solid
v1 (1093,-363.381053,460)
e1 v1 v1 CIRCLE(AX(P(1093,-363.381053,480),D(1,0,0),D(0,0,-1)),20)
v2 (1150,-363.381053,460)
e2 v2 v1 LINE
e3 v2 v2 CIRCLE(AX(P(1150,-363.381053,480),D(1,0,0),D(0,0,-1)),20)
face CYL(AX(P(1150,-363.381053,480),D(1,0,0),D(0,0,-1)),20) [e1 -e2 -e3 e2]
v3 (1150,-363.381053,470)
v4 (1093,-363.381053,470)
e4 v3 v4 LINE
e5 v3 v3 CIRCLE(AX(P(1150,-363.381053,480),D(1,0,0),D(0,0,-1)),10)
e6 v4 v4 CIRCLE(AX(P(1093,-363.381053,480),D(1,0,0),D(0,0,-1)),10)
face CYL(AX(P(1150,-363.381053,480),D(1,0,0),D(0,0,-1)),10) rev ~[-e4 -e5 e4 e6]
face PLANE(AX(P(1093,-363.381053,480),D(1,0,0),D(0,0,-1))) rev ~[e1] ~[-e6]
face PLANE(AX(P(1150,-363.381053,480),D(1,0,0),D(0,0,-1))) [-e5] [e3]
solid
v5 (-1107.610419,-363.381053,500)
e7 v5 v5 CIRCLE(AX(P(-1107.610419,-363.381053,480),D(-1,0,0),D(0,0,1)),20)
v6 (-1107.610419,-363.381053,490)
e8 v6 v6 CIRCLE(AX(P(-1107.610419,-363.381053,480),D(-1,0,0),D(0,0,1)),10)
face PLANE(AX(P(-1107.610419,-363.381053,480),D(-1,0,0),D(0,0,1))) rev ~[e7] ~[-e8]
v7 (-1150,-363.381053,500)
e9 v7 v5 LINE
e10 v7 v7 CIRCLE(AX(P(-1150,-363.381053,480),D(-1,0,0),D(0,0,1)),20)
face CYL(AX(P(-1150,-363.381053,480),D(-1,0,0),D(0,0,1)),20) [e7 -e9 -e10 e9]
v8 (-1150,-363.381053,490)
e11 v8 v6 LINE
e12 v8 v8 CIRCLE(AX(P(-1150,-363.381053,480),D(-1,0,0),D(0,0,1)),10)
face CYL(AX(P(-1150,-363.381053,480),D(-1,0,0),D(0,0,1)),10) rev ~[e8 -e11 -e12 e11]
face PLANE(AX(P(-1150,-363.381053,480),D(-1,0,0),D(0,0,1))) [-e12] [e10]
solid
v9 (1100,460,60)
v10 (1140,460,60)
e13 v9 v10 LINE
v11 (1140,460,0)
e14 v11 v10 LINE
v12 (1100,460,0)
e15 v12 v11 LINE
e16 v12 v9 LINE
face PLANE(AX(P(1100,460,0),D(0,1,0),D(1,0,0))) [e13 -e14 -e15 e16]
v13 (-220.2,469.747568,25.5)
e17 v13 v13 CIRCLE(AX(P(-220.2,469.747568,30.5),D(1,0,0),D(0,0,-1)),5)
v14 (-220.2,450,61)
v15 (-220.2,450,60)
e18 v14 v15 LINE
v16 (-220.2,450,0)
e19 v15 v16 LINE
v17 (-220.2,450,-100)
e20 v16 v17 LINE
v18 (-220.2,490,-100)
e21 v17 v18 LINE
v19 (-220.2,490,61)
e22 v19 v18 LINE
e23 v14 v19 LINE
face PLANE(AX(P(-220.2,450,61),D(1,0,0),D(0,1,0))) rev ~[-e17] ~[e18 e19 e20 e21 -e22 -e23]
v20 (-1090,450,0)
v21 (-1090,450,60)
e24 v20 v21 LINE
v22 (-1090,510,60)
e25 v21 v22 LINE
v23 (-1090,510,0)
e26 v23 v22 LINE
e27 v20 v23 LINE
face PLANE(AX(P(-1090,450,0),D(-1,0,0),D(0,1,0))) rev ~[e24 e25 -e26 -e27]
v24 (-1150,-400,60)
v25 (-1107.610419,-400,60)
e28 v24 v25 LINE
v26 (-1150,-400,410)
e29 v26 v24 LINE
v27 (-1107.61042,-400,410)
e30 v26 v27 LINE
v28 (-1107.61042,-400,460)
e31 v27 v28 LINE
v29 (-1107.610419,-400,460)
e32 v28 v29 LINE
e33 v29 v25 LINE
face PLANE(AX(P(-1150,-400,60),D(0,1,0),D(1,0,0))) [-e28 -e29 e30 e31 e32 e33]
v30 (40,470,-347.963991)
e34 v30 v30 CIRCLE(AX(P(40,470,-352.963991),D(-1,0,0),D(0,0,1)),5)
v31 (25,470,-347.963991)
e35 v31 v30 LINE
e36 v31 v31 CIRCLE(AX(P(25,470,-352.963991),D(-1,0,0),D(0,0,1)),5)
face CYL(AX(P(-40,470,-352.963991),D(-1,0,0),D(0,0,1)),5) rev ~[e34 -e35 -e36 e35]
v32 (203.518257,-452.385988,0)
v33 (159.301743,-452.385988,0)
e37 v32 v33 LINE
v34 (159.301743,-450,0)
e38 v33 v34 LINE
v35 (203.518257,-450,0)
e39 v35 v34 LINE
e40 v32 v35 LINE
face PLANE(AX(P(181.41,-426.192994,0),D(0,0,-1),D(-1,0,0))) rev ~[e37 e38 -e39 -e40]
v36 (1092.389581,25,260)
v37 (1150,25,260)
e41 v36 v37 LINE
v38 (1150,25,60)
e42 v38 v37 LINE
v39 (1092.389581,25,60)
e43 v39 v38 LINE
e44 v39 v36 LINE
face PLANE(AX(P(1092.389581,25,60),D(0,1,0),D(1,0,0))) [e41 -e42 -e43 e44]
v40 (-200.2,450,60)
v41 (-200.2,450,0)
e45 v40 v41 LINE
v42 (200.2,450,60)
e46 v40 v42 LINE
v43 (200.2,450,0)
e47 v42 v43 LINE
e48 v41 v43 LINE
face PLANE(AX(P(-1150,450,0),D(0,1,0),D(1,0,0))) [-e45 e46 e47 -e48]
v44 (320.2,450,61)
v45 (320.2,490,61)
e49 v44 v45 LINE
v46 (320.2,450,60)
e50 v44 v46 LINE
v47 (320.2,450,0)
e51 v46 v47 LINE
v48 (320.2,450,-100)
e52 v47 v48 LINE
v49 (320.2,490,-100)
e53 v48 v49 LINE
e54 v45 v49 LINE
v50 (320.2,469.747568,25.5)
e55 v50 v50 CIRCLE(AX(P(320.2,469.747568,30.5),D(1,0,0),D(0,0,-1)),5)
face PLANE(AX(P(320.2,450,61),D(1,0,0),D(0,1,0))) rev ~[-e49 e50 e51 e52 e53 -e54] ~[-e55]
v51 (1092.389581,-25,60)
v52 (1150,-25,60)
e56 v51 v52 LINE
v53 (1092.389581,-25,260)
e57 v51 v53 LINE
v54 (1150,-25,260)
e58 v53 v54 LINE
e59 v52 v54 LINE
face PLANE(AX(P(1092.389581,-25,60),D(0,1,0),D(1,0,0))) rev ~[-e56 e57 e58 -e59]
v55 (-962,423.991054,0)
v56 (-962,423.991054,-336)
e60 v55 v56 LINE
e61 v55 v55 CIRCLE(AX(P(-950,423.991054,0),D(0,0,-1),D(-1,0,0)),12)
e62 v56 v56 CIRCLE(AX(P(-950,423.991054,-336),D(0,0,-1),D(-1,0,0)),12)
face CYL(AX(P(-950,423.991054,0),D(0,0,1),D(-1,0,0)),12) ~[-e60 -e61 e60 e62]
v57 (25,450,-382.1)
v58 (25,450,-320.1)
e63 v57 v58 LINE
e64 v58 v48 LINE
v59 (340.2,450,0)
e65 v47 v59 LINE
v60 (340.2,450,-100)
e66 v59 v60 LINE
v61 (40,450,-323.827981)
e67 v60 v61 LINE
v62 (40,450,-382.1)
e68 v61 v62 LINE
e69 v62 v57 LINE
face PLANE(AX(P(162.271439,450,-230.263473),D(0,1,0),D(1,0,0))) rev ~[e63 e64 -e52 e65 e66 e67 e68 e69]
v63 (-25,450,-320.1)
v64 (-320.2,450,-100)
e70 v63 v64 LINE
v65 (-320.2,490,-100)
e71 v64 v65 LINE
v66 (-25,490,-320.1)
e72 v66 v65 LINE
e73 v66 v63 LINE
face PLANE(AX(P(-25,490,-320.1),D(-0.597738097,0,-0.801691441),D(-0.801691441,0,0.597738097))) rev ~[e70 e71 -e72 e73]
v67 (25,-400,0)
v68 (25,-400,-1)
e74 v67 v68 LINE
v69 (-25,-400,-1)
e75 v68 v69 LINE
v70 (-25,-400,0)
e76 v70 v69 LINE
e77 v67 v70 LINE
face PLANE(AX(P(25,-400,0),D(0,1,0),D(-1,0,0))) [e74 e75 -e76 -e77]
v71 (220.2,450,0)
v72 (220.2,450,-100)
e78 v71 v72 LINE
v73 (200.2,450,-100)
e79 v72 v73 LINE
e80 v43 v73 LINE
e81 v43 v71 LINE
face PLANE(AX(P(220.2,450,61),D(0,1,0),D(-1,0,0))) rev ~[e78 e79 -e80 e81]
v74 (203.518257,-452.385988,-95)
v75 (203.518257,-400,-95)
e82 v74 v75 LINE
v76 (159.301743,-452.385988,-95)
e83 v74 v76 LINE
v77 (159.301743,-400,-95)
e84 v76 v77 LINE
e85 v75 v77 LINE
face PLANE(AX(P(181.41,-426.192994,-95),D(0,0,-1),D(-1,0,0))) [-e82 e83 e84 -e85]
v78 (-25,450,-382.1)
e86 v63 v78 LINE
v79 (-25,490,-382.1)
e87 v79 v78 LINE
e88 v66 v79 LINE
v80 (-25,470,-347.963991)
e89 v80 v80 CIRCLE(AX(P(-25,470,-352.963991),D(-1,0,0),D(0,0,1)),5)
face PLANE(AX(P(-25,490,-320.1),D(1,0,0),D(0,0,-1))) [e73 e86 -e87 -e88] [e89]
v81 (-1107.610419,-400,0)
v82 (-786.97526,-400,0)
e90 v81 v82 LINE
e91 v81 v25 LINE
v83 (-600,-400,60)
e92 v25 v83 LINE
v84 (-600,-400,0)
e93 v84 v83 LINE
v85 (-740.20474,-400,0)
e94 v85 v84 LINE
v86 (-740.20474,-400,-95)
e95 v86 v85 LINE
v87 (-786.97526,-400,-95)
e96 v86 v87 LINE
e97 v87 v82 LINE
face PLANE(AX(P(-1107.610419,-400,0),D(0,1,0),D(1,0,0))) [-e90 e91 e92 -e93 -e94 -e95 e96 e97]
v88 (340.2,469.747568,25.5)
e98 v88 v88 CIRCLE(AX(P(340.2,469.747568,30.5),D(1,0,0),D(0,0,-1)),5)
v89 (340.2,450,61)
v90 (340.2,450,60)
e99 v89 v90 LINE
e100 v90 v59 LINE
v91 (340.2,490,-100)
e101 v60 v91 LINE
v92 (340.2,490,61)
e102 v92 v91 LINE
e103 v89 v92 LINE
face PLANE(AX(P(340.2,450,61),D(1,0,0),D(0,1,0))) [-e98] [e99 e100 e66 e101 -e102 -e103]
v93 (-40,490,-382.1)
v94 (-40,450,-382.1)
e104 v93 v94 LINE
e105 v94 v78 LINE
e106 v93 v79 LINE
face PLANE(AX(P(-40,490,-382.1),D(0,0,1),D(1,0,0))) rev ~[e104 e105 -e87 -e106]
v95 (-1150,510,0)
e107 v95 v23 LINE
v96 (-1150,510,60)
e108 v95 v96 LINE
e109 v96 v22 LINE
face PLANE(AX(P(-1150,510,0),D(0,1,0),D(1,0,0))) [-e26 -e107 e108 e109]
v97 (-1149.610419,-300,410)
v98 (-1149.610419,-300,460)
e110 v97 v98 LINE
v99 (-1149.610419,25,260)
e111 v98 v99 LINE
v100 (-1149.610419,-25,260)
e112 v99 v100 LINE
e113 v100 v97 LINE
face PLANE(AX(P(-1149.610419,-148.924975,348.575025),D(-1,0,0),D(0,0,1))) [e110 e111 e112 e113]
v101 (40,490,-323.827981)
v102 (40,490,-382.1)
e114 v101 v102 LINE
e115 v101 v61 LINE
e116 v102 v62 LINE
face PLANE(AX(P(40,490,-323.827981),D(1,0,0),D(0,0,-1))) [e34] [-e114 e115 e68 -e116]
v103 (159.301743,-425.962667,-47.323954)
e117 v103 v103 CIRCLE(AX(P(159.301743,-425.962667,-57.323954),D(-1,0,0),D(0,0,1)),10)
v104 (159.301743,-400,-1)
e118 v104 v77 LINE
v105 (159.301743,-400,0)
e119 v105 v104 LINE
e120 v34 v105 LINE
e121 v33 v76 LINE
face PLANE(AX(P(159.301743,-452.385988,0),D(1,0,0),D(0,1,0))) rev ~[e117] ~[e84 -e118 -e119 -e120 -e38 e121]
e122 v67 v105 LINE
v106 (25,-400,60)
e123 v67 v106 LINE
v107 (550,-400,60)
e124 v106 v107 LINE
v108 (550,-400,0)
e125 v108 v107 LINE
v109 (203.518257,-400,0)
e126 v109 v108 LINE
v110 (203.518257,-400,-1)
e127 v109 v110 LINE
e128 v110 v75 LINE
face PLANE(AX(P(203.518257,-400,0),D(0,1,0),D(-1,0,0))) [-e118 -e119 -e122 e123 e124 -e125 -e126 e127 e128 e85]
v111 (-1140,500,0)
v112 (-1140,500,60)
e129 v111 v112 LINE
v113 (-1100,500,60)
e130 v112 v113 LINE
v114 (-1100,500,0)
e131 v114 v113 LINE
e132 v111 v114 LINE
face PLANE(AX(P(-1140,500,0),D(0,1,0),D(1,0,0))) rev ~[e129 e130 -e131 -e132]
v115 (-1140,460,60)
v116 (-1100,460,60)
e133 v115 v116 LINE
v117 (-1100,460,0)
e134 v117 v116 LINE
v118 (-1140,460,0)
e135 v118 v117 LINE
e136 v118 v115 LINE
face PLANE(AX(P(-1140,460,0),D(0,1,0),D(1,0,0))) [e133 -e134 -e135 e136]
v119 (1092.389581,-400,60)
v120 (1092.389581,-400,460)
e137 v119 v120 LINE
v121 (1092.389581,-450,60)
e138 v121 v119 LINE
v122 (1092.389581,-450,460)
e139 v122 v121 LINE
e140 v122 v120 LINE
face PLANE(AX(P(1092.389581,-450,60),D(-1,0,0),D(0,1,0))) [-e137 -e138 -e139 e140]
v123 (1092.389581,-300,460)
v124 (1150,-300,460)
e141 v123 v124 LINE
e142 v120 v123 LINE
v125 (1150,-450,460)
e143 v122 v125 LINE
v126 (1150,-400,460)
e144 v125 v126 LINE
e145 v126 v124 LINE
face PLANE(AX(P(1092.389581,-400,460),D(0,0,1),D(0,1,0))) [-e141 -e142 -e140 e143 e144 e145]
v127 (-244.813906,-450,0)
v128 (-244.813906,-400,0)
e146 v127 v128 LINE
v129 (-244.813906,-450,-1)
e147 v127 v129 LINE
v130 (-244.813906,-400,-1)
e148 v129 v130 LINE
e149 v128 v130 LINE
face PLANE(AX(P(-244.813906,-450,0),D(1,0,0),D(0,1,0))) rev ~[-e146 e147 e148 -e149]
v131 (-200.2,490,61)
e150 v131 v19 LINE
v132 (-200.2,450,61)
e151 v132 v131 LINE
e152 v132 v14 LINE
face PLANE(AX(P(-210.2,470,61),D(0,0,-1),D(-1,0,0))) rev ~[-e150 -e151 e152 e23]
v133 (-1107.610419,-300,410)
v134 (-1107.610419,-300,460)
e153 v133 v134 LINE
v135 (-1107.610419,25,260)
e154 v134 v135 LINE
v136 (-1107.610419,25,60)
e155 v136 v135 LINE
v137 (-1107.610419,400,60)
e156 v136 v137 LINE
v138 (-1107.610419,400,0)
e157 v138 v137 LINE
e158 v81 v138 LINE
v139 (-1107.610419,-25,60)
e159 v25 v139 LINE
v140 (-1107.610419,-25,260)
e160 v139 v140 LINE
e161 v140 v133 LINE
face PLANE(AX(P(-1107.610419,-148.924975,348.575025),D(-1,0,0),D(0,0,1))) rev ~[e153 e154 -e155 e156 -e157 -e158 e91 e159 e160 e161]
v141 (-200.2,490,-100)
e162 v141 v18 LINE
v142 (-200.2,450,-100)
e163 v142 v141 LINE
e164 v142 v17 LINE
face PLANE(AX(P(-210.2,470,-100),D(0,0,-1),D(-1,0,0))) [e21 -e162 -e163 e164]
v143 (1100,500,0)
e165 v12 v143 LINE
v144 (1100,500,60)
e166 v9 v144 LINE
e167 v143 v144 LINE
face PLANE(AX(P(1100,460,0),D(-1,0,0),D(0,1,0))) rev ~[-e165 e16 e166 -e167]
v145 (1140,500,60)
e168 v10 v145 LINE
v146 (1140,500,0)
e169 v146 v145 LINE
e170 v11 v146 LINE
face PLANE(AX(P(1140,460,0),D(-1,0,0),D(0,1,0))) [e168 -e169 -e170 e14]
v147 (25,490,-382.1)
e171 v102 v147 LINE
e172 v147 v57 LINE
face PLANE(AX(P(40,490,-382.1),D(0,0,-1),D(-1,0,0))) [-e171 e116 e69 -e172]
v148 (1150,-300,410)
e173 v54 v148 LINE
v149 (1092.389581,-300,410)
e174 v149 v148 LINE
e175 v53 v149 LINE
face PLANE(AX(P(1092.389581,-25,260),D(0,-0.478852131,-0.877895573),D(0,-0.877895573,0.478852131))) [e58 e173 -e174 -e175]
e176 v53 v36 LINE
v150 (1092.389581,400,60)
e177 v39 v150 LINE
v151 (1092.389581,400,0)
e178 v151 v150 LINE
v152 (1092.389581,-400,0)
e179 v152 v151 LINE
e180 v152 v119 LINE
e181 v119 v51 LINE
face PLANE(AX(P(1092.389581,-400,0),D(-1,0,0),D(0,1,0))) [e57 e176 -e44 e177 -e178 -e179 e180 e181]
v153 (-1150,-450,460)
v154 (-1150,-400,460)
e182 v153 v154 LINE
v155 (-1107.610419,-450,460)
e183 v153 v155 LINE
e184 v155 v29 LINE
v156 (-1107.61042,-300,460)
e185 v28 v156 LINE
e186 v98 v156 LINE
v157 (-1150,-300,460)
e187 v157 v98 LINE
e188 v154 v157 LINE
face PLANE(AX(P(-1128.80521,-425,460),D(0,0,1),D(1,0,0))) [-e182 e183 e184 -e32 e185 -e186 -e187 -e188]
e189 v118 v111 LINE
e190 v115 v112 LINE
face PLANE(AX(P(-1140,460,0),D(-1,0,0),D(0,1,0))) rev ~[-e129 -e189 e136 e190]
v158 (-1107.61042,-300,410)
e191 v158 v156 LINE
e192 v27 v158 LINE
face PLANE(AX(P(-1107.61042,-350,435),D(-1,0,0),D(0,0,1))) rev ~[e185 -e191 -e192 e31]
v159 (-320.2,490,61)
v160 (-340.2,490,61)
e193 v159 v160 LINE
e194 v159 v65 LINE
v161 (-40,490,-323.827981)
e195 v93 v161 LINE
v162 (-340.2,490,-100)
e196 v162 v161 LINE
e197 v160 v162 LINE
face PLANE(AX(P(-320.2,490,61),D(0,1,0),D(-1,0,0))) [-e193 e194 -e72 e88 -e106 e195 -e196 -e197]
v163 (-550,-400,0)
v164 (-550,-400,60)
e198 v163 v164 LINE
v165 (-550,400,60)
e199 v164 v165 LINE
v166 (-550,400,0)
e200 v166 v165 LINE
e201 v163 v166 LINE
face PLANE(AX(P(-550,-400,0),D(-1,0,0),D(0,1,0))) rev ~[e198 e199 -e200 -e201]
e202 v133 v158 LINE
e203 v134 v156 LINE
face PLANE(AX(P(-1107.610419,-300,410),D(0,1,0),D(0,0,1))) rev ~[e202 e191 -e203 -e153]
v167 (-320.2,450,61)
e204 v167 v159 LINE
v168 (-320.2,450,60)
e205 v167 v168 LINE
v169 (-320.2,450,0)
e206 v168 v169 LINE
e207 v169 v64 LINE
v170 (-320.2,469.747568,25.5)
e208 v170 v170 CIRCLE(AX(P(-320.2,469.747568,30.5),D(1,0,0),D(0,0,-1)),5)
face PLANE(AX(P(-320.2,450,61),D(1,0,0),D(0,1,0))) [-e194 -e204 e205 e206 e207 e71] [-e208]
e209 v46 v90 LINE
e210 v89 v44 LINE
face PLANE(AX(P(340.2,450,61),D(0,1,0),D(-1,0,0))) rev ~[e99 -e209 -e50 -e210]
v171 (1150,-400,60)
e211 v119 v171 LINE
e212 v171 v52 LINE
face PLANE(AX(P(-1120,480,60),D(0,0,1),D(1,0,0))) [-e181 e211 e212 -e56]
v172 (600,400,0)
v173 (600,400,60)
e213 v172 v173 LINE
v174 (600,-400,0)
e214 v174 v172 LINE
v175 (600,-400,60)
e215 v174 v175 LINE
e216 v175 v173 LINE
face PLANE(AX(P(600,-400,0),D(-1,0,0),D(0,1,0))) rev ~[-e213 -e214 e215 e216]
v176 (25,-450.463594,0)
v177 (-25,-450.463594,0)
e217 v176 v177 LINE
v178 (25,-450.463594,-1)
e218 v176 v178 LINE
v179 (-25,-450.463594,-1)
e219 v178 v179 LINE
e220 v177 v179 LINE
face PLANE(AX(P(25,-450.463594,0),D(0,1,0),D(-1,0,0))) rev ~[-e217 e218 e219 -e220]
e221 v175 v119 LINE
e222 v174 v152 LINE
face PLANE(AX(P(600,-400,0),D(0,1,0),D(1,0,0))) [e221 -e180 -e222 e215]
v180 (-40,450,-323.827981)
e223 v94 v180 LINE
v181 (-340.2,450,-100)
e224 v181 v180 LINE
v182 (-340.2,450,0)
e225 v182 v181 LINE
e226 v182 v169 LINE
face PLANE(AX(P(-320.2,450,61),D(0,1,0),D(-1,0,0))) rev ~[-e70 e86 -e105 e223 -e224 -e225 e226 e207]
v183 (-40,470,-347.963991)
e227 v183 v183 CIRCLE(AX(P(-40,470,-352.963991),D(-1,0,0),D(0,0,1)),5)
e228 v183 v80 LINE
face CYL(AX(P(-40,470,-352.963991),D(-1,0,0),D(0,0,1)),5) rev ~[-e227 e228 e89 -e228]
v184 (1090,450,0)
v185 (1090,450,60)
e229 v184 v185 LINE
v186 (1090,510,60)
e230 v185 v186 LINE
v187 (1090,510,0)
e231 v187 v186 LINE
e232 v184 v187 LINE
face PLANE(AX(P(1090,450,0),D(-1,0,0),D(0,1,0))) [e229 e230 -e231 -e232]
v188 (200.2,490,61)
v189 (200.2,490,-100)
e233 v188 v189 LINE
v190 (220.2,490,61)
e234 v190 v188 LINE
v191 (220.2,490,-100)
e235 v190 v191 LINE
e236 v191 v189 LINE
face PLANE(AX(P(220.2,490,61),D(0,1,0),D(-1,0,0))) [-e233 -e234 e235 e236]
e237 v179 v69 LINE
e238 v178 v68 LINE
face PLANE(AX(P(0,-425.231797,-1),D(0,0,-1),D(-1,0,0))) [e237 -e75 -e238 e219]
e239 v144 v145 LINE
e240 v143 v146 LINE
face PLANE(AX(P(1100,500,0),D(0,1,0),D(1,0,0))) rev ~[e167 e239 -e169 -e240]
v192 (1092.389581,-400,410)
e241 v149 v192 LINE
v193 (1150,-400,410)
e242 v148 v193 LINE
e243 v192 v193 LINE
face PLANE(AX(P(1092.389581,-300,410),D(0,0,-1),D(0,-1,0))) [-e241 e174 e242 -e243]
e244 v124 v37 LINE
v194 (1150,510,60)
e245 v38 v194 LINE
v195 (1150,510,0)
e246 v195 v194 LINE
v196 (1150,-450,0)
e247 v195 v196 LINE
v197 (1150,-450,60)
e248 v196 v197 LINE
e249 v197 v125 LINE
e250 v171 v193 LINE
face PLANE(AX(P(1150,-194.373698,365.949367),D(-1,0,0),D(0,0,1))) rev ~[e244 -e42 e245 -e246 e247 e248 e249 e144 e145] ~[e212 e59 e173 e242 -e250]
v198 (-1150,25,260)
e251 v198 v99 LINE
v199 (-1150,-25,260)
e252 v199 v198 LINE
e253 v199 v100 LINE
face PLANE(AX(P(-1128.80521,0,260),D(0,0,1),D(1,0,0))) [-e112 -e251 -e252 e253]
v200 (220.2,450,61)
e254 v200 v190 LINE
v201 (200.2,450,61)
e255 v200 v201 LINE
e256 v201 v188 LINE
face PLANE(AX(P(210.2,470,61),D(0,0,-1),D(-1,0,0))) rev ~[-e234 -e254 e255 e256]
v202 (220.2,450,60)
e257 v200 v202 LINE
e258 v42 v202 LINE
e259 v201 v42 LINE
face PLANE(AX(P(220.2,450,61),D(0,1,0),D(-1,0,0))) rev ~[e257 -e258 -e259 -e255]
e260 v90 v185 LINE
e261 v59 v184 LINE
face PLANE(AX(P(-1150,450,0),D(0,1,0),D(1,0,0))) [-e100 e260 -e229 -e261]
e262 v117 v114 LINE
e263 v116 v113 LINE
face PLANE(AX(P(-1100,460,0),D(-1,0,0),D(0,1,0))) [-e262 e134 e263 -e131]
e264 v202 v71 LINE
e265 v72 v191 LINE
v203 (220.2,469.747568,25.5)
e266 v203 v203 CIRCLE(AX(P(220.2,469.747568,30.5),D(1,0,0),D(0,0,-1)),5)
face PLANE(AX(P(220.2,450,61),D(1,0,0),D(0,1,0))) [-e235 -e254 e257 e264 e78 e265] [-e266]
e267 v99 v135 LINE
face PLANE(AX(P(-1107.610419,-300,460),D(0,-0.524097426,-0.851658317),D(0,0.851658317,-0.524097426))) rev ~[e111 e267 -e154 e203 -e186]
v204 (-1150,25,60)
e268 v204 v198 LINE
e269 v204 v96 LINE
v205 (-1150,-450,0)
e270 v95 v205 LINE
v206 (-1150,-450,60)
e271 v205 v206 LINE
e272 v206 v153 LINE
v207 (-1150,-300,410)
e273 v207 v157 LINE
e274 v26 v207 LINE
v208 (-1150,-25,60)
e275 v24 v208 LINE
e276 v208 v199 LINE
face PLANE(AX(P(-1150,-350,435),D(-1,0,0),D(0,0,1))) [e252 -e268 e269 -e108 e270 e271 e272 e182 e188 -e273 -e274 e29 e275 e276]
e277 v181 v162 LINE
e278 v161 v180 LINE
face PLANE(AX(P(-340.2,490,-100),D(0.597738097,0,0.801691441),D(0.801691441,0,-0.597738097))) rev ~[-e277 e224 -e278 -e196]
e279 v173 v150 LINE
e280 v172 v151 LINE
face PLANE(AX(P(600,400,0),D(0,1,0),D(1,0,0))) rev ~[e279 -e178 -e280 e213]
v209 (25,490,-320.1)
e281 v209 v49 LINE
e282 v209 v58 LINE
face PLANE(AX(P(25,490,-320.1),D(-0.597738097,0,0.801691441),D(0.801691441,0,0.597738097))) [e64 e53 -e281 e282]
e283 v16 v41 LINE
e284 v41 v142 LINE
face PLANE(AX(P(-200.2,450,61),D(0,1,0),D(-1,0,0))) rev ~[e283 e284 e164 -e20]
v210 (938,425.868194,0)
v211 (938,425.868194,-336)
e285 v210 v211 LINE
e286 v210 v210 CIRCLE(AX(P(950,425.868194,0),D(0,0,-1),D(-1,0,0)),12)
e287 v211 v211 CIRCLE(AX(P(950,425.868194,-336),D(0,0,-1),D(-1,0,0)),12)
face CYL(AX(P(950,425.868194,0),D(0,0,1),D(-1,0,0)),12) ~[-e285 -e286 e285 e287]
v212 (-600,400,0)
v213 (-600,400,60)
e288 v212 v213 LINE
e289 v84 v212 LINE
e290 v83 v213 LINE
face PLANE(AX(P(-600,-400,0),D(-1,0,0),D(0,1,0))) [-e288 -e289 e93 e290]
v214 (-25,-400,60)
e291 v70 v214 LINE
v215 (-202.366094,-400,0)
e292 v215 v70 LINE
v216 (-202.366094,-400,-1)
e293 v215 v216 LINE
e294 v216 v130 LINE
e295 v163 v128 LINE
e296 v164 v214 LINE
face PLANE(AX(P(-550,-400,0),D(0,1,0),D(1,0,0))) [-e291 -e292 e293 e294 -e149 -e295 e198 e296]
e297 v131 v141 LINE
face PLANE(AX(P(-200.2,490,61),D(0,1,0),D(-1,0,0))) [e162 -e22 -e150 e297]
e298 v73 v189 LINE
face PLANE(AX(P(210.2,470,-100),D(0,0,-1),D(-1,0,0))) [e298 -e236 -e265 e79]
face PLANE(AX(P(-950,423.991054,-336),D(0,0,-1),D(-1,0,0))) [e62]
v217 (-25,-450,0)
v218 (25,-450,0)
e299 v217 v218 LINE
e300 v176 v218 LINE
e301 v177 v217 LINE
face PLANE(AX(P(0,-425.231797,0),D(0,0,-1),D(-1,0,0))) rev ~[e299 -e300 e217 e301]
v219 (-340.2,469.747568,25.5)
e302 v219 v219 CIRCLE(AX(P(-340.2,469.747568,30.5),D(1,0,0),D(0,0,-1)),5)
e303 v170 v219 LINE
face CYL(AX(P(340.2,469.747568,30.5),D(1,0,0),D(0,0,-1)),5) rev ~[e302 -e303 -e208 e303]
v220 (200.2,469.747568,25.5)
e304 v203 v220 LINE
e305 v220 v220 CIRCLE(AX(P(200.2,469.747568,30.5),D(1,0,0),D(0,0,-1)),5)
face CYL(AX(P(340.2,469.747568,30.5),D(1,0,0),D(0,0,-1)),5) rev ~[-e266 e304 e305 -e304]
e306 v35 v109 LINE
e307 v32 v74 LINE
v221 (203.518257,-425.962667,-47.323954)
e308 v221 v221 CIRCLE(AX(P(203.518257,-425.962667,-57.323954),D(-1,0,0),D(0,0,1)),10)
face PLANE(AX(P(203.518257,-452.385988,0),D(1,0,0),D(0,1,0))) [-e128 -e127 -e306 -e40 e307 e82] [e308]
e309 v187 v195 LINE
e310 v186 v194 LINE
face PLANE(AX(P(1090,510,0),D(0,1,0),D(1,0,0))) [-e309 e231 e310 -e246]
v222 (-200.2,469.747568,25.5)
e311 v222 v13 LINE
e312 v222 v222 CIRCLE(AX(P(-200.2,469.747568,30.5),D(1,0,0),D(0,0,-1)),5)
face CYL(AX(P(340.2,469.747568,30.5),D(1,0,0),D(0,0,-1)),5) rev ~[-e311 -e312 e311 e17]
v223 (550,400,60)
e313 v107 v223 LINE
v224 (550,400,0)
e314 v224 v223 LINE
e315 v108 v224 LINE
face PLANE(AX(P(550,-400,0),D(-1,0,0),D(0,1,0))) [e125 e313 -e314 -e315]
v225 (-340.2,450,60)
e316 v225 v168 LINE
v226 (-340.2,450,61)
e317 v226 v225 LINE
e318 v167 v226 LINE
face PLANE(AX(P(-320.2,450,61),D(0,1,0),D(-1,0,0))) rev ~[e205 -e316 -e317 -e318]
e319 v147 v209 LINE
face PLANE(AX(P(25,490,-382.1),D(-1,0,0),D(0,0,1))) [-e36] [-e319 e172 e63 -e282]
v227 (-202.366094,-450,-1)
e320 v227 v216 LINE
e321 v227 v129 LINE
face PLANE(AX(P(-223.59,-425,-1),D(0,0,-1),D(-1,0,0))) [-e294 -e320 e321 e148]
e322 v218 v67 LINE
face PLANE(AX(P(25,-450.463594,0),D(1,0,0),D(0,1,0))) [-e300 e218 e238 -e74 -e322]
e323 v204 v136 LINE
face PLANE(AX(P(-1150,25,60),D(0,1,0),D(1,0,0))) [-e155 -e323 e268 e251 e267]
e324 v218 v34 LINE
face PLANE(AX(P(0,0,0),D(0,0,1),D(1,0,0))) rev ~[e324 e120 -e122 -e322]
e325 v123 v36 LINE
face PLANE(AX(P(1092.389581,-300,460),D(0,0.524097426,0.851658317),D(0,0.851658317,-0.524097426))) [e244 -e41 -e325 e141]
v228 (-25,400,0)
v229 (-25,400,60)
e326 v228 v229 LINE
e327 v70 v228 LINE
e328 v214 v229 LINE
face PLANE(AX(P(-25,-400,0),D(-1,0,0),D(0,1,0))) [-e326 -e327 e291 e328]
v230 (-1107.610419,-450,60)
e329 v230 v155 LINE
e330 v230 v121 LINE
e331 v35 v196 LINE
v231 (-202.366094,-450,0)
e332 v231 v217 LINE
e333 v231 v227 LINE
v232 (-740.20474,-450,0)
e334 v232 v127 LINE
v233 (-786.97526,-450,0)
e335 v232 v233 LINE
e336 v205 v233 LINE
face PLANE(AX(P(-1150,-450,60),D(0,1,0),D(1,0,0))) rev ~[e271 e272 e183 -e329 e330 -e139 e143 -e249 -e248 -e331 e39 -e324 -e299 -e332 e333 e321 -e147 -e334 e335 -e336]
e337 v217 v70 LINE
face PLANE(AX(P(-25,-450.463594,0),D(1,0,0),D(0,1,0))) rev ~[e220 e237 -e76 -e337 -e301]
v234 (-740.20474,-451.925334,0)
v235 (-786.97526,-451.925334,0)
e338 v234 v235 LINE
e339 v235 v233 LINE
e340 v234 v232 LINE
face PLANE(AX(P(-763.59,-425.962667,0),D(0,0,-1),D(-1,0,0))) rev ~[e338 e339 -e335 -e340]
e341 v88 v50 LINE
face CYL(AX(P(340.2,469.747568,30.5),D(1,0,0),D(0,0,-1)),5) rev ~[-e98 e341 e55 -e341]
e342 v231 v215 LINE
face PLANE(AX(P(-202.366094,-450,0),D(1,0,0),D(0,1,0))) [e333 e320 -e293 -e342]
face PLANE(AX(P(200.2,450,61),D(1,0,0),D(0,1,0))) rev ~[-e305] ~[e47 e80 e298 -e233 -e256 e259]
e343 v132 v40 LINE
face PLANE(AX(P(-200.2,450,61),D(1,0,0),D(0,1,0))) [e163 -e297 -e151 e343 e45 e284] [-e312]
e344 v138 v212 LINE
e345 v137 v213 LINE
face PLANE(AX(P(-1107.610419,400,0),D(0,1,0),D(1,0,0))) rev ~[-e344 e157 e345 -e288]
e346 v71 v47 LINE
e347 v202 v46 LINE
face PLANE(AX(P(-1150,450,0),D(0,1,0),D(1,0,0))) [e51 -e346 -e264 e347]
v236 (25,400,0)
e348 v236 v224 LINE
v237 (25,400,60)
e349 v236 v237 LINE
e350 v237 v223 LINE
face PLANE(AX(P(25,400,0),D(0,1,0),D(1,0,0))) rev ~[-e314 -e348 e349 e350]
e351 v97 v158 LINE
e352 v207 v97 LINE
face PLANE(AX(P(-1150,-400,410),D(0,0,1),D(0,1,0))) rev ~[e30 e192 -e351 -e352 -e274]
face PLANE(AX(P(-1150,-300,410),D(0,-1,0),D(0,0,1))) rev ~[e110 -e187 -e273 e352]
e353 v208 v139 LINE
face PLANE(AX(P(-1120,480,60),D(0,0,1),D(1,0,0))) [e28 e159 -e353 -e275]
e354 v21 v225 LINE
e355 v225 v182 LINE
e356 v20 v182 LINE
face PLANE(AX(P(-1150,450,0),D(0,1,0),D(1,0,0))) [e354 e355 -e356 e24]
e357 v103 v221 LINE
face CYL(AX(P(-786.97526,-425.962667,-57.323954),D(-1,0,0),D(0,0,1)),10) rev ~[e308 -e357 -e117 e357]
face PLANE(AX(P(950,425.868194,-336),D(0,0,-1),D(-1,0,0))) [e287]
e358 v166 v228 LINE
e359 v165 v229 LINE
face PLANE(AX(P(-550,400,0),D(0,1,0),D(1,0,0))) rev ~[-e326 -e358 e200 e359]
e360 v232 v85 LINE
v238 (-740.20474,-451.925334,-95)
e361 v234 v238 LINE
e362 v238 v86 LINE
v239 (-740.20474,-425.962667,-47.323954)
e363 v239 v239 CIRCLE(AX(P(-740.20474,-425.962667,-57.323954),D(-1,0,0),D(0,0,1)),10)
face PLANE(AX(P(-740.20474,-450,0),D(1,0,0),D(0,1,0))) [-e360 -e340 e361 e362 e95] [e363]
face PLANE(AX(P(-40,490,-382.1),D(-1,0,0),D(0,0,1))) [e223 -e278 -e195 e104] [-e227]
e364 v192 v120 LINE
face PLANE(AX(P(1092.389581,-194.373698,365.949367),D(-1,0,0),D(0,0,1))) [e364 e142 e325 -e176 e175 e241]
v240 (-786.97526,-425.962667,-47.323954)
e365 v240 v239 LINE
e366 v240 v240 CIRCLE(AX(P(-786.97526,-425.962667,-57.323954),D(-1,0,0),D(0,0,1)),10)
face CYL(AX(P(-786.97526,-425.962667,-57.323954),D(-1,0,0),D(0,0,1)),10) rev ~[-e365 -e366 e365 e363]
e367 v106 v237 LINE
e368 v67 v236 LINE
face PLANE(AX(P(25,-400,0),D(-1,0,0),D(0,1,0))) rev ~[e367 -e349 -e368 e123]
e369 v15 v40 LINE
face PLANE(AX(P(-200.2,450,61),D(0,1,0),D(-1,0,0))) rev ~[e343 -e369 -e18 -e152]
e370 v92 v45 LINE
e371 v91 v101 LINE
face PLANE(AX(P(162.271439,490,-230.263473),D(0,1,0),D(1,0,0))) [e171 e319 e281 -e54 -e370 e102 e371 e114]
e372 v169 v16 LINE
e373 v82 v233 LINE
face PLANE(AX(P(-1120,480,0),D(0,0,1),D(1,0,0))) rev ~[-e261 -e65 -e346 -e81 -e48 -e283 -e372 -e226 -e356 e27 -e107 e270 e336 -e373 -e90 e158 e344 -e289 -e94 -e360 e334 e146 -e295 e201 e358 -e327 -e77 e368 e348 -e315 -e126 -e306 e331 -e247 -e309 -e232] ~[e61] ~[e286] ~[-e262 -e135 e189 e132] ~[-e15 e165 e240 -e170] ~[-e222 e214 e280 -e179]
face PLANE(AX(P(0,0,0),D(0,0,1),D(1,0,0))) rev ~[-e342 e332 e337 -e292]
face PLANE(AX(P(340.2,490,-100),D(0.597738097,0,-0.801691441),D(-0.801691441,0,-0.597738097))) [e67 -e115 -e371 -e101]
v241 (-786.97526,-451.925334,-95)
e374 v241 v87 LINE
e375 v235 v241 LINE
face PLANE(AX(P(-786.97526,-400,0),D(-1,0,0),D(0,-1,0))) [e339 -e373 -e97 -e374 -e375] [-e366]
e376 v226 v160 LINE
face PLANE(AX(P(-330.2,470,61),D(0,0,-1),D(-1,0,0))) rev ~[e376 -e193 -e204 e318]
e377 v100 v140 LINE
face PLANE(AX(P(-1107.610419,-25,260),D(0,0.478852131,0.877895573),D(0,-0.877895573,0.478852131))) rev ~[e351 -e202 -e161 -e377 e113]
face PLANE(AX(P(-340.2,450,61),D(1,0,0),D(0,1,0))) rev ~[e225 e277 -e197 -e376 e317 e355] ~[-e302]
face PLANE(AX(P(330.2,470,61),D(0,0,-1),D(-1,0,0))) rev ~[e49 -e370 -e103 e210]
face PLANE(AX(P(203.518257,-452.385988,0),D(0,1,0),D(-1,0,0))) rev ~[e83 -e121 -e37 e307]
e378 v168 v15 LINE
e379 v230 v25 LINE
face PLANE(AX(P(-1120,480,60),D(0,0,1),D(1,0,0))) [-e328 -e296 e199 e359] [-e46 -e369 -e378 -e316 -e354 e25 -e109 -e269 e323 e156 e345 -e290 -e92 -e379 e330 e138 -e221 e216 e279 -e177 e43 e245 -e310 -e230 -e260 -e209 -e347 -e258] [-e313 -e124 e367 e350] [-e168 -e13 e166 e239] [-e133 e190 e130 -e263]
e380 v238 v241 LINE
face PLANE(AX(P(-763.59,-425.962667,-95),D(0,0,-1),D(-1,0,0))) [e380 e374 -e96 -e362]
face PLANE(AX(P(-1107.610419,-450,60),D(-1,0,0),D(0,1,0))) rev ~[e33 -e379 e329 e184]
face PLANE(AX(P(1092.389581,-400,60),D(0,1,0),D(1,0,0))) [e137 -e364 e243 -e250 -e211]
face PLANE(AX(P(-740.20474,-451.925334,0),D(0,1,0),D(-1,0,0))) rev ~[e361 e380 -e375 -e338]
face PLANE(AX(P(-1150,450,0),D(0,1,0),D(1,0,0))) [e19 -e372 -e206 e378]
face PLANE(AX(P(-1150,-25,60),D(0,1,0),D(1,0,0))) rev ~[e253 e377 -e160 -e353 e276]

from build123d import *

# Parameters (mm, degrees)
SKETCH1_W                = 2300
SKETCH1_H                = 900
SKETCH1_W_2              = 525
SKETCH1_H_2              = 800
SKETCH1_W_3              = 492.389580631
SKETCH1_W_4              = 507.610419369
BOSS_EXTRUDE1_DEPTH      = 60
SKETCH2_W                = 42.389580631
SKETCH2_H                = 50
SKETCH2_W_2              = 57.610419369
BOSS_EXTRUDE2_DEPTH      = 1
SKETCH4_W                = 50
SKETCH4_H                = 50.463593603
BOSS_EXTRUDE4_DEPTH      = 1
SKETCH5_W                = 44.216514846
SKETCH5_H                = 50
BOSS_EXTRUDE5_DEPTH      = 1
SKETCH6_W                = 42.447812038
SKETCH6_H                = 50
BOSS_EXTRUDE6_DEPTH      = 1
BOSS_EXTRUDE7_DEPTH      = 1
BOSS_EXTRUDE9_DEPTH      = 100
BOSS_EXTRUDE9_DEPTH_BACK = 61
SKETCH8_W                = 20
SKETCH8_H                = 40
SKETCH9_R                = 5
CUT_EXTRUDE1_DEPTH       = 810
BOSS_EXTRUDE10_DEPTH     = 40
SKETCH12_R               = 5
CUT_EXTRUDE2_DEPTH       = 179
SKETCH13_W               = 44.216514846
SKETCH13_H               = 52.385988297
SKETCH13_W_2             = 46.77052042
SKETCH13_H_2             = 51.925334434
BOSS_EXTRUDE12_DEPTH     = 95
SKETCH14_R               = 10
CUT_EXTRUDE3_DEPTH       = 1270
BOSS_EXTRUDE13_START     = -60
SKETCH15_W               = 60
SKETCH15_H               = 60
SKETCH15_W_2             = 40
SKETCH15_H_2             = 40
BOSS_EXTRUDE13_DEPTH     = 60
SKETCH16_R               = 12
BOSS_EXTRUDE14_DEPTH     = 336
SKETCH17_W               = 42.389580631
SKETCH17_H               = 50
SKETCH17_W_2             = 57.610419369
BOSS_EXTRUDE15_DEPTH     = 400
SKETCH18_W               = 42.389580631
SKETCH18_H               = 50
SKETCH18_W_2             = 57.610419369
BOSS_EXTRUDE16_DEPTH     = 200
SKETCH19_W               = 50
SKETCH19_H               = 100
BOSS_EXTRUDE17_DEPTH     = 42.38958
BOSS_EXTRUDE18_DEPTH     = 42
BOSS_EXTRUDE19_START     = -57.610419
BOSS_EXTRUDE19_DEPTH     = 57.610419
SKETCH25_R               = 20
SKETCH25_R_2             = 10
BOSS_EXTRUDE20_DEPTH     = 42.389581
SKETCH26_R               = 20
SKETCH26_R_2             = 10
BOSS_EXTRUDE21_DEPTH     = 57


with BuildPart() as part:
    # Sketch1 → Boss-Extrude1 (new body)
    with BuildSketch(Plane.XY):
        Rectangle(SKETCH1_W, SKETCH1_H)
        with Locations((-287.5, 0)):
            Rectangle(SKETCH1_W_2, SKETCH1_H_2, mode=Mode.SUBTRACT)
        with Locations((287.5, 0)):
            Rectangle(SKETCH1_W_2, SKETCH1_H_2, mode=Mode.SUBTRACT)
        with Locations((846.194790316, 0)):
            Rectangle(SKETCH1_W_3, SKETCH1_H_2, mode=Mode.SUBTRACT)
        with Locations((-853.805209685, 0)):
            Rectangle(SKETCH1_W_4, SKETCH1_H_2, mode=Mode.SUBTRACT)
    extrude(amount=BOSS_EXTRUDE1_DEPTH)

    # Sketch2 → Boss-Extrude2 (add)
    with BuildSketch(Plane.XY.offset(60)):
        with Locations((-1128.805209684, -425)):
            Rectangle(SKETCH2_W, SKETCH2_H)
        with Locations((1121.194790316, -425)):
            Rectangle(SKETCH2_W_2, SKETCH2_H)
    extrude(amount=BOSS_EXTRUDE2_DEPTH)

    # Sketch4 → Boss-Extrude4 (add)
    with BuildSketch(Plane(origin=(0, 0, 0), x_dir=(-1, 0, 0), z_dir=(0, 0, -1))):
        with Locations((0, -425.231796802)):
            Rectangle(SKETCH4_W, SKETCH4_H)
    extrude(amount=BOSS_EXTRUDE4_DEPTH)

    # Sketch5 → Boss-Extrude5 (add)
    with BuildSketch(Plane(origin=(0, 0, 0), x_dir=(-1, 0, 0), z_dir=(0, 0, -1))):
        with Locations((-181.41, -425)):
            Rectangle(SKETCH5_W, SKETCH5_H)
    extrude(amount=BOSS_EXTRUDE5_DEPTH)

    # Sketch6 → Boss-Extrude6 (add)
    with BuildSketch(Plane(origin=(0, 0, 0), x_dir=(-1, 0, 0), z_dir=(0, 0, -1))):
        with Locations((223.59, -425)):
            Rectangle(SKETCH6_W, SKETCH6_H)
    extrude(amount=BOSS_EXTRUDE6_DEPTH)

    # Sketch7 → Boss-Extrude7 (add)
    with BuildSketch(Plane(origin=(0, 0, 0), x_dir=(-1, 0, 0), z_dir=(0, 0, -1))):
        Polygon((740.20473979, -400), (763.59, -400), (786.97526021, -400), (786.97526021, -450), (763.59, -450), (740.20473979, -450), align=None)
    extrude(amount=BOSS_EXTRUDE7_DEPTH)

    # Sketch8 → Boss-Extrude9 (add, two sides: drawn at the far end of the back side and taken through both)
    with BuildSketch(Plane(origin=(0, 0, 0), x_dir=(-1, 0, 0), z_dir=(0, 0, -1)).offset(-BOSS_EXTRUDE9_DEPTH_BACK)):
        with Locations((-330.2, 470)):
            Rectangle(SKETCH8_W, SKETCH8_H)
        with Locations((210.2, 470)):
            Rectangle(SKETCH8_W, SKETCH8_H)
        with Locations((330.2, 470)):
            Rectangle(SKETCH8_W, SKETCH8_H)
        with Locations((-210.2, 470)):
            Rectangle(SKETCH8_W, SKETCH8_H)
    extrude(amount=BOSS_EXTRUDE9_DEPTH + BOSS_EXTRUDE9_DEPTH_BACK)

    # Sketch9 → Cut-Extrude1 (cut)
    with BuildSketch(Plane(origin=(340.2, 0, 0), x_dir=(0, 0, -1), z_dir=(1, 0, 0))):
        with Locations((-30.5, 469.747568446)):
            Circle(SKETCH9_R)
    extrude(amount=-CUT_EXTRUDE1_DEPTH, mode=Mode.SUBTRACT)

    # Sketch11 → Boss-Extrude10 (add)
    with BuildSketch(Plane(origin=(0, 490, 0), x_dir=(1, 0, 0), z_dir=(0, 1, 0))):
        Polygon((340.2, 100), (40, 323.82798103), (40, 351.1), (40, 382.1), (25, 382.1), (25, 351.1), (25, 320.1), (320.2, 100), align=None)
        Polygon((-25, 351.1), (-25, 320.1), (-320.2, 100), (-340.2, 100), (-40, 323.82798103), (-40, 351.1), (-40, 382.1), (-25, 382.1), align=None)
    extrude(amount=-BOSS_EXTRUDE10_DEPTH)

    # Sketch12 → Cut-Extrude2 (cut)
    with BuildSketch(Plane.ZY.offset(40)):
        with Locations((-352.963990515, 470)):
            Circle(SKETCH12_R)
    extrude(amount=-CUT_EXTRUDE2_DEPTH, mode=Mode.SUBTRACT)

    # Sketch13 → Boss-Extrude12 (add)
    with BuildSketch(Plane(origin=(0, 0, 0), x_dir=(-1, 0, 0), z_dir=(0, 0, -1))):
        with Locations((-181.41, -426.192994149)):
            Rectangle(SKETCH13_W, SKETCH13_H)
        with Locations((763.59, -425.962667217)):
            Rectangle(SKETCH13_W_2, SKETCH13_H_2)
    extrude(amount=BOSS_EXTRUDE12_DEPTH)

    # Sketch14 → Cut-Extrude3 (cut)
    with BuildSketch(Plane.ZY.offset(786.97526021)):
        with Locations((-57.323954471, -425.962667217)):
            Circle(SKETCH14_R)
    extrude(amount=-CUT_EXTRUDE3_DEPTH, mode=Mode.SUBTRACT)

    # Sketch15 → Boss-Extrude13 (add)
    # profile 1 of 2: a face of its own
    with BuildSketch(Plane.XY.offset(60).offset(BOSS_EXTRUDE13_START)):
        with Locations((-1120, 480)):
            Rectangle(SKETCH15_W, SKETCH15_H)
        with Locations((-1120, 480)):
            Rectangle(SKETCH15_W_2, SKETCH15_H_2, mode=Mode.SUBTRACT)
    # profile 2 of 2: a face of its own
    with BuildSketch(Plane.XY.offset(60).offset(BOSS_EXTRUDE13_START)):
        with Locations((1120, 480)):
            Rectangle(SKETCH15_W, SKETCH15_H)
        with Locations((1120, 480)):
            Rectangle(SKETCH15_W_2, SKETCH15_H_2, mode=Mode.SUBTRACT)
    extrude(amount=BOSS_EXTRUDE13_DEPTH)

    # Sketch16 → Boss-Extrude14 (add)
    with BuildSketch(Plane(origin=(0, 0, 0), x_dir=(-1, 0, 0), z_dir=(0, 0, -1))):
        with Locations((-950, 425.8681938)):
            Circle(SKETCH16_R)
        with Locations((950, 423.991053502)):
            Circle(SKETCH16_R)
    extrude(amount=BOSS_EXTRUDE14_DEPTH)

    # Sketch17 → Boss-Extrude15 (add)
    with BuildSketch(Plane.XY.offset(60)):
        with Locations((-1128.805209684, -425)):
            Rectangle(SKETCH17_W, SKETCH17_H)
        with Locations((1121.194790316, -425)):
            Rectangle(SKETCH17_W_2, SKETCH17_H)
    extrude(amount=BOSS_EXTRUDE15_DEPTH)

    # Sketch18 → Boss-Extrude16 (add)
    with BuildSketch(Plane.XY.offset(60)):
        with Locations((-1128.805209684, 0)):
            Rectangle(SKETCH18_W, SKETCH18_H)
        with Locations((1121.194790316, 0)):
            Rectangle(SKETCH18_W_2, SKETCH18_H)
    extrude(amount=BOSS_EXTRUDE16_DEPTH)

    # Sketch19 → Boss-Extrude17 (add)
    with BuildSketch(Plane.ZY.offset(1150)):
        with Locations((435, -350)):
            Rectangle(SKETCH19_W, SKETCH19_H)
    extrude(amount=-BOSS_EXTRUDE17_DEPTH)

    # Sketch20 → Boss-Extrude18 (add)
    with BuildSketch(Plane(origin=(-1107.610419369, 0, 0), x_dir=(0, 0, -1), z_dir=(1, 0, 0))):
        Polygon((-260, -25), (-410, -300), (-460, -300), (-260, 25), align=None)
    extrude(amount=-BOSS_EXTRUDE18_DEPTH)

    # Sketch22 → Boss-Extrude19 (add)
    with BuildSketch(Plane(origin=(1150, 0, 0), x_dir=(0, 0, -1), z_dir=(1, 0, 0)).offset(BOSS_EXTRUDE19_START)):
        Polygon((-460, -300), (-260, 25), (-260, -25), (-410, -300), (-410, -400), (-460, -400), align=None)
    extrude(amount=BOSS_EXTRUDE19_DEPTH)


with BuildPart() as body_2:
    # Sketch25 → Boss-Extrude20 (new body)
    with BuildSketch(Plane.ZY.offset(1150)):
        with Locations((480, -363.381052549)):
            Circle(SKETCH25_R)
        with Locations((480, -363.381052549)):
            Circle(SKETCH25_R_2, mode=Mode.SUBTRACT)
    extrude(amount=-BOSS_EXTRUDE20_DEPTH)


with BuildPart() as body_3:
    # Sketch26 → Boss-Extrude21 (new body)
    with BuildSketch(Plane(origin=(1150, 0, 0), x_dir=(0, 0, -1), z_dir=(1, 0, 0))):
        with Locations((-480, -363.381052549)):
            Circle(SKETCH26_R)
        with Locations((-480, -363.381052549)):
            Circle(SKETCH26_R_2, mode=Mode.SUBTRACT)
    extrude(amount=-BOSS_EXTRUDE21_DEPTH)


solid = Compound([part.part, body_2.part, body_3.part])
